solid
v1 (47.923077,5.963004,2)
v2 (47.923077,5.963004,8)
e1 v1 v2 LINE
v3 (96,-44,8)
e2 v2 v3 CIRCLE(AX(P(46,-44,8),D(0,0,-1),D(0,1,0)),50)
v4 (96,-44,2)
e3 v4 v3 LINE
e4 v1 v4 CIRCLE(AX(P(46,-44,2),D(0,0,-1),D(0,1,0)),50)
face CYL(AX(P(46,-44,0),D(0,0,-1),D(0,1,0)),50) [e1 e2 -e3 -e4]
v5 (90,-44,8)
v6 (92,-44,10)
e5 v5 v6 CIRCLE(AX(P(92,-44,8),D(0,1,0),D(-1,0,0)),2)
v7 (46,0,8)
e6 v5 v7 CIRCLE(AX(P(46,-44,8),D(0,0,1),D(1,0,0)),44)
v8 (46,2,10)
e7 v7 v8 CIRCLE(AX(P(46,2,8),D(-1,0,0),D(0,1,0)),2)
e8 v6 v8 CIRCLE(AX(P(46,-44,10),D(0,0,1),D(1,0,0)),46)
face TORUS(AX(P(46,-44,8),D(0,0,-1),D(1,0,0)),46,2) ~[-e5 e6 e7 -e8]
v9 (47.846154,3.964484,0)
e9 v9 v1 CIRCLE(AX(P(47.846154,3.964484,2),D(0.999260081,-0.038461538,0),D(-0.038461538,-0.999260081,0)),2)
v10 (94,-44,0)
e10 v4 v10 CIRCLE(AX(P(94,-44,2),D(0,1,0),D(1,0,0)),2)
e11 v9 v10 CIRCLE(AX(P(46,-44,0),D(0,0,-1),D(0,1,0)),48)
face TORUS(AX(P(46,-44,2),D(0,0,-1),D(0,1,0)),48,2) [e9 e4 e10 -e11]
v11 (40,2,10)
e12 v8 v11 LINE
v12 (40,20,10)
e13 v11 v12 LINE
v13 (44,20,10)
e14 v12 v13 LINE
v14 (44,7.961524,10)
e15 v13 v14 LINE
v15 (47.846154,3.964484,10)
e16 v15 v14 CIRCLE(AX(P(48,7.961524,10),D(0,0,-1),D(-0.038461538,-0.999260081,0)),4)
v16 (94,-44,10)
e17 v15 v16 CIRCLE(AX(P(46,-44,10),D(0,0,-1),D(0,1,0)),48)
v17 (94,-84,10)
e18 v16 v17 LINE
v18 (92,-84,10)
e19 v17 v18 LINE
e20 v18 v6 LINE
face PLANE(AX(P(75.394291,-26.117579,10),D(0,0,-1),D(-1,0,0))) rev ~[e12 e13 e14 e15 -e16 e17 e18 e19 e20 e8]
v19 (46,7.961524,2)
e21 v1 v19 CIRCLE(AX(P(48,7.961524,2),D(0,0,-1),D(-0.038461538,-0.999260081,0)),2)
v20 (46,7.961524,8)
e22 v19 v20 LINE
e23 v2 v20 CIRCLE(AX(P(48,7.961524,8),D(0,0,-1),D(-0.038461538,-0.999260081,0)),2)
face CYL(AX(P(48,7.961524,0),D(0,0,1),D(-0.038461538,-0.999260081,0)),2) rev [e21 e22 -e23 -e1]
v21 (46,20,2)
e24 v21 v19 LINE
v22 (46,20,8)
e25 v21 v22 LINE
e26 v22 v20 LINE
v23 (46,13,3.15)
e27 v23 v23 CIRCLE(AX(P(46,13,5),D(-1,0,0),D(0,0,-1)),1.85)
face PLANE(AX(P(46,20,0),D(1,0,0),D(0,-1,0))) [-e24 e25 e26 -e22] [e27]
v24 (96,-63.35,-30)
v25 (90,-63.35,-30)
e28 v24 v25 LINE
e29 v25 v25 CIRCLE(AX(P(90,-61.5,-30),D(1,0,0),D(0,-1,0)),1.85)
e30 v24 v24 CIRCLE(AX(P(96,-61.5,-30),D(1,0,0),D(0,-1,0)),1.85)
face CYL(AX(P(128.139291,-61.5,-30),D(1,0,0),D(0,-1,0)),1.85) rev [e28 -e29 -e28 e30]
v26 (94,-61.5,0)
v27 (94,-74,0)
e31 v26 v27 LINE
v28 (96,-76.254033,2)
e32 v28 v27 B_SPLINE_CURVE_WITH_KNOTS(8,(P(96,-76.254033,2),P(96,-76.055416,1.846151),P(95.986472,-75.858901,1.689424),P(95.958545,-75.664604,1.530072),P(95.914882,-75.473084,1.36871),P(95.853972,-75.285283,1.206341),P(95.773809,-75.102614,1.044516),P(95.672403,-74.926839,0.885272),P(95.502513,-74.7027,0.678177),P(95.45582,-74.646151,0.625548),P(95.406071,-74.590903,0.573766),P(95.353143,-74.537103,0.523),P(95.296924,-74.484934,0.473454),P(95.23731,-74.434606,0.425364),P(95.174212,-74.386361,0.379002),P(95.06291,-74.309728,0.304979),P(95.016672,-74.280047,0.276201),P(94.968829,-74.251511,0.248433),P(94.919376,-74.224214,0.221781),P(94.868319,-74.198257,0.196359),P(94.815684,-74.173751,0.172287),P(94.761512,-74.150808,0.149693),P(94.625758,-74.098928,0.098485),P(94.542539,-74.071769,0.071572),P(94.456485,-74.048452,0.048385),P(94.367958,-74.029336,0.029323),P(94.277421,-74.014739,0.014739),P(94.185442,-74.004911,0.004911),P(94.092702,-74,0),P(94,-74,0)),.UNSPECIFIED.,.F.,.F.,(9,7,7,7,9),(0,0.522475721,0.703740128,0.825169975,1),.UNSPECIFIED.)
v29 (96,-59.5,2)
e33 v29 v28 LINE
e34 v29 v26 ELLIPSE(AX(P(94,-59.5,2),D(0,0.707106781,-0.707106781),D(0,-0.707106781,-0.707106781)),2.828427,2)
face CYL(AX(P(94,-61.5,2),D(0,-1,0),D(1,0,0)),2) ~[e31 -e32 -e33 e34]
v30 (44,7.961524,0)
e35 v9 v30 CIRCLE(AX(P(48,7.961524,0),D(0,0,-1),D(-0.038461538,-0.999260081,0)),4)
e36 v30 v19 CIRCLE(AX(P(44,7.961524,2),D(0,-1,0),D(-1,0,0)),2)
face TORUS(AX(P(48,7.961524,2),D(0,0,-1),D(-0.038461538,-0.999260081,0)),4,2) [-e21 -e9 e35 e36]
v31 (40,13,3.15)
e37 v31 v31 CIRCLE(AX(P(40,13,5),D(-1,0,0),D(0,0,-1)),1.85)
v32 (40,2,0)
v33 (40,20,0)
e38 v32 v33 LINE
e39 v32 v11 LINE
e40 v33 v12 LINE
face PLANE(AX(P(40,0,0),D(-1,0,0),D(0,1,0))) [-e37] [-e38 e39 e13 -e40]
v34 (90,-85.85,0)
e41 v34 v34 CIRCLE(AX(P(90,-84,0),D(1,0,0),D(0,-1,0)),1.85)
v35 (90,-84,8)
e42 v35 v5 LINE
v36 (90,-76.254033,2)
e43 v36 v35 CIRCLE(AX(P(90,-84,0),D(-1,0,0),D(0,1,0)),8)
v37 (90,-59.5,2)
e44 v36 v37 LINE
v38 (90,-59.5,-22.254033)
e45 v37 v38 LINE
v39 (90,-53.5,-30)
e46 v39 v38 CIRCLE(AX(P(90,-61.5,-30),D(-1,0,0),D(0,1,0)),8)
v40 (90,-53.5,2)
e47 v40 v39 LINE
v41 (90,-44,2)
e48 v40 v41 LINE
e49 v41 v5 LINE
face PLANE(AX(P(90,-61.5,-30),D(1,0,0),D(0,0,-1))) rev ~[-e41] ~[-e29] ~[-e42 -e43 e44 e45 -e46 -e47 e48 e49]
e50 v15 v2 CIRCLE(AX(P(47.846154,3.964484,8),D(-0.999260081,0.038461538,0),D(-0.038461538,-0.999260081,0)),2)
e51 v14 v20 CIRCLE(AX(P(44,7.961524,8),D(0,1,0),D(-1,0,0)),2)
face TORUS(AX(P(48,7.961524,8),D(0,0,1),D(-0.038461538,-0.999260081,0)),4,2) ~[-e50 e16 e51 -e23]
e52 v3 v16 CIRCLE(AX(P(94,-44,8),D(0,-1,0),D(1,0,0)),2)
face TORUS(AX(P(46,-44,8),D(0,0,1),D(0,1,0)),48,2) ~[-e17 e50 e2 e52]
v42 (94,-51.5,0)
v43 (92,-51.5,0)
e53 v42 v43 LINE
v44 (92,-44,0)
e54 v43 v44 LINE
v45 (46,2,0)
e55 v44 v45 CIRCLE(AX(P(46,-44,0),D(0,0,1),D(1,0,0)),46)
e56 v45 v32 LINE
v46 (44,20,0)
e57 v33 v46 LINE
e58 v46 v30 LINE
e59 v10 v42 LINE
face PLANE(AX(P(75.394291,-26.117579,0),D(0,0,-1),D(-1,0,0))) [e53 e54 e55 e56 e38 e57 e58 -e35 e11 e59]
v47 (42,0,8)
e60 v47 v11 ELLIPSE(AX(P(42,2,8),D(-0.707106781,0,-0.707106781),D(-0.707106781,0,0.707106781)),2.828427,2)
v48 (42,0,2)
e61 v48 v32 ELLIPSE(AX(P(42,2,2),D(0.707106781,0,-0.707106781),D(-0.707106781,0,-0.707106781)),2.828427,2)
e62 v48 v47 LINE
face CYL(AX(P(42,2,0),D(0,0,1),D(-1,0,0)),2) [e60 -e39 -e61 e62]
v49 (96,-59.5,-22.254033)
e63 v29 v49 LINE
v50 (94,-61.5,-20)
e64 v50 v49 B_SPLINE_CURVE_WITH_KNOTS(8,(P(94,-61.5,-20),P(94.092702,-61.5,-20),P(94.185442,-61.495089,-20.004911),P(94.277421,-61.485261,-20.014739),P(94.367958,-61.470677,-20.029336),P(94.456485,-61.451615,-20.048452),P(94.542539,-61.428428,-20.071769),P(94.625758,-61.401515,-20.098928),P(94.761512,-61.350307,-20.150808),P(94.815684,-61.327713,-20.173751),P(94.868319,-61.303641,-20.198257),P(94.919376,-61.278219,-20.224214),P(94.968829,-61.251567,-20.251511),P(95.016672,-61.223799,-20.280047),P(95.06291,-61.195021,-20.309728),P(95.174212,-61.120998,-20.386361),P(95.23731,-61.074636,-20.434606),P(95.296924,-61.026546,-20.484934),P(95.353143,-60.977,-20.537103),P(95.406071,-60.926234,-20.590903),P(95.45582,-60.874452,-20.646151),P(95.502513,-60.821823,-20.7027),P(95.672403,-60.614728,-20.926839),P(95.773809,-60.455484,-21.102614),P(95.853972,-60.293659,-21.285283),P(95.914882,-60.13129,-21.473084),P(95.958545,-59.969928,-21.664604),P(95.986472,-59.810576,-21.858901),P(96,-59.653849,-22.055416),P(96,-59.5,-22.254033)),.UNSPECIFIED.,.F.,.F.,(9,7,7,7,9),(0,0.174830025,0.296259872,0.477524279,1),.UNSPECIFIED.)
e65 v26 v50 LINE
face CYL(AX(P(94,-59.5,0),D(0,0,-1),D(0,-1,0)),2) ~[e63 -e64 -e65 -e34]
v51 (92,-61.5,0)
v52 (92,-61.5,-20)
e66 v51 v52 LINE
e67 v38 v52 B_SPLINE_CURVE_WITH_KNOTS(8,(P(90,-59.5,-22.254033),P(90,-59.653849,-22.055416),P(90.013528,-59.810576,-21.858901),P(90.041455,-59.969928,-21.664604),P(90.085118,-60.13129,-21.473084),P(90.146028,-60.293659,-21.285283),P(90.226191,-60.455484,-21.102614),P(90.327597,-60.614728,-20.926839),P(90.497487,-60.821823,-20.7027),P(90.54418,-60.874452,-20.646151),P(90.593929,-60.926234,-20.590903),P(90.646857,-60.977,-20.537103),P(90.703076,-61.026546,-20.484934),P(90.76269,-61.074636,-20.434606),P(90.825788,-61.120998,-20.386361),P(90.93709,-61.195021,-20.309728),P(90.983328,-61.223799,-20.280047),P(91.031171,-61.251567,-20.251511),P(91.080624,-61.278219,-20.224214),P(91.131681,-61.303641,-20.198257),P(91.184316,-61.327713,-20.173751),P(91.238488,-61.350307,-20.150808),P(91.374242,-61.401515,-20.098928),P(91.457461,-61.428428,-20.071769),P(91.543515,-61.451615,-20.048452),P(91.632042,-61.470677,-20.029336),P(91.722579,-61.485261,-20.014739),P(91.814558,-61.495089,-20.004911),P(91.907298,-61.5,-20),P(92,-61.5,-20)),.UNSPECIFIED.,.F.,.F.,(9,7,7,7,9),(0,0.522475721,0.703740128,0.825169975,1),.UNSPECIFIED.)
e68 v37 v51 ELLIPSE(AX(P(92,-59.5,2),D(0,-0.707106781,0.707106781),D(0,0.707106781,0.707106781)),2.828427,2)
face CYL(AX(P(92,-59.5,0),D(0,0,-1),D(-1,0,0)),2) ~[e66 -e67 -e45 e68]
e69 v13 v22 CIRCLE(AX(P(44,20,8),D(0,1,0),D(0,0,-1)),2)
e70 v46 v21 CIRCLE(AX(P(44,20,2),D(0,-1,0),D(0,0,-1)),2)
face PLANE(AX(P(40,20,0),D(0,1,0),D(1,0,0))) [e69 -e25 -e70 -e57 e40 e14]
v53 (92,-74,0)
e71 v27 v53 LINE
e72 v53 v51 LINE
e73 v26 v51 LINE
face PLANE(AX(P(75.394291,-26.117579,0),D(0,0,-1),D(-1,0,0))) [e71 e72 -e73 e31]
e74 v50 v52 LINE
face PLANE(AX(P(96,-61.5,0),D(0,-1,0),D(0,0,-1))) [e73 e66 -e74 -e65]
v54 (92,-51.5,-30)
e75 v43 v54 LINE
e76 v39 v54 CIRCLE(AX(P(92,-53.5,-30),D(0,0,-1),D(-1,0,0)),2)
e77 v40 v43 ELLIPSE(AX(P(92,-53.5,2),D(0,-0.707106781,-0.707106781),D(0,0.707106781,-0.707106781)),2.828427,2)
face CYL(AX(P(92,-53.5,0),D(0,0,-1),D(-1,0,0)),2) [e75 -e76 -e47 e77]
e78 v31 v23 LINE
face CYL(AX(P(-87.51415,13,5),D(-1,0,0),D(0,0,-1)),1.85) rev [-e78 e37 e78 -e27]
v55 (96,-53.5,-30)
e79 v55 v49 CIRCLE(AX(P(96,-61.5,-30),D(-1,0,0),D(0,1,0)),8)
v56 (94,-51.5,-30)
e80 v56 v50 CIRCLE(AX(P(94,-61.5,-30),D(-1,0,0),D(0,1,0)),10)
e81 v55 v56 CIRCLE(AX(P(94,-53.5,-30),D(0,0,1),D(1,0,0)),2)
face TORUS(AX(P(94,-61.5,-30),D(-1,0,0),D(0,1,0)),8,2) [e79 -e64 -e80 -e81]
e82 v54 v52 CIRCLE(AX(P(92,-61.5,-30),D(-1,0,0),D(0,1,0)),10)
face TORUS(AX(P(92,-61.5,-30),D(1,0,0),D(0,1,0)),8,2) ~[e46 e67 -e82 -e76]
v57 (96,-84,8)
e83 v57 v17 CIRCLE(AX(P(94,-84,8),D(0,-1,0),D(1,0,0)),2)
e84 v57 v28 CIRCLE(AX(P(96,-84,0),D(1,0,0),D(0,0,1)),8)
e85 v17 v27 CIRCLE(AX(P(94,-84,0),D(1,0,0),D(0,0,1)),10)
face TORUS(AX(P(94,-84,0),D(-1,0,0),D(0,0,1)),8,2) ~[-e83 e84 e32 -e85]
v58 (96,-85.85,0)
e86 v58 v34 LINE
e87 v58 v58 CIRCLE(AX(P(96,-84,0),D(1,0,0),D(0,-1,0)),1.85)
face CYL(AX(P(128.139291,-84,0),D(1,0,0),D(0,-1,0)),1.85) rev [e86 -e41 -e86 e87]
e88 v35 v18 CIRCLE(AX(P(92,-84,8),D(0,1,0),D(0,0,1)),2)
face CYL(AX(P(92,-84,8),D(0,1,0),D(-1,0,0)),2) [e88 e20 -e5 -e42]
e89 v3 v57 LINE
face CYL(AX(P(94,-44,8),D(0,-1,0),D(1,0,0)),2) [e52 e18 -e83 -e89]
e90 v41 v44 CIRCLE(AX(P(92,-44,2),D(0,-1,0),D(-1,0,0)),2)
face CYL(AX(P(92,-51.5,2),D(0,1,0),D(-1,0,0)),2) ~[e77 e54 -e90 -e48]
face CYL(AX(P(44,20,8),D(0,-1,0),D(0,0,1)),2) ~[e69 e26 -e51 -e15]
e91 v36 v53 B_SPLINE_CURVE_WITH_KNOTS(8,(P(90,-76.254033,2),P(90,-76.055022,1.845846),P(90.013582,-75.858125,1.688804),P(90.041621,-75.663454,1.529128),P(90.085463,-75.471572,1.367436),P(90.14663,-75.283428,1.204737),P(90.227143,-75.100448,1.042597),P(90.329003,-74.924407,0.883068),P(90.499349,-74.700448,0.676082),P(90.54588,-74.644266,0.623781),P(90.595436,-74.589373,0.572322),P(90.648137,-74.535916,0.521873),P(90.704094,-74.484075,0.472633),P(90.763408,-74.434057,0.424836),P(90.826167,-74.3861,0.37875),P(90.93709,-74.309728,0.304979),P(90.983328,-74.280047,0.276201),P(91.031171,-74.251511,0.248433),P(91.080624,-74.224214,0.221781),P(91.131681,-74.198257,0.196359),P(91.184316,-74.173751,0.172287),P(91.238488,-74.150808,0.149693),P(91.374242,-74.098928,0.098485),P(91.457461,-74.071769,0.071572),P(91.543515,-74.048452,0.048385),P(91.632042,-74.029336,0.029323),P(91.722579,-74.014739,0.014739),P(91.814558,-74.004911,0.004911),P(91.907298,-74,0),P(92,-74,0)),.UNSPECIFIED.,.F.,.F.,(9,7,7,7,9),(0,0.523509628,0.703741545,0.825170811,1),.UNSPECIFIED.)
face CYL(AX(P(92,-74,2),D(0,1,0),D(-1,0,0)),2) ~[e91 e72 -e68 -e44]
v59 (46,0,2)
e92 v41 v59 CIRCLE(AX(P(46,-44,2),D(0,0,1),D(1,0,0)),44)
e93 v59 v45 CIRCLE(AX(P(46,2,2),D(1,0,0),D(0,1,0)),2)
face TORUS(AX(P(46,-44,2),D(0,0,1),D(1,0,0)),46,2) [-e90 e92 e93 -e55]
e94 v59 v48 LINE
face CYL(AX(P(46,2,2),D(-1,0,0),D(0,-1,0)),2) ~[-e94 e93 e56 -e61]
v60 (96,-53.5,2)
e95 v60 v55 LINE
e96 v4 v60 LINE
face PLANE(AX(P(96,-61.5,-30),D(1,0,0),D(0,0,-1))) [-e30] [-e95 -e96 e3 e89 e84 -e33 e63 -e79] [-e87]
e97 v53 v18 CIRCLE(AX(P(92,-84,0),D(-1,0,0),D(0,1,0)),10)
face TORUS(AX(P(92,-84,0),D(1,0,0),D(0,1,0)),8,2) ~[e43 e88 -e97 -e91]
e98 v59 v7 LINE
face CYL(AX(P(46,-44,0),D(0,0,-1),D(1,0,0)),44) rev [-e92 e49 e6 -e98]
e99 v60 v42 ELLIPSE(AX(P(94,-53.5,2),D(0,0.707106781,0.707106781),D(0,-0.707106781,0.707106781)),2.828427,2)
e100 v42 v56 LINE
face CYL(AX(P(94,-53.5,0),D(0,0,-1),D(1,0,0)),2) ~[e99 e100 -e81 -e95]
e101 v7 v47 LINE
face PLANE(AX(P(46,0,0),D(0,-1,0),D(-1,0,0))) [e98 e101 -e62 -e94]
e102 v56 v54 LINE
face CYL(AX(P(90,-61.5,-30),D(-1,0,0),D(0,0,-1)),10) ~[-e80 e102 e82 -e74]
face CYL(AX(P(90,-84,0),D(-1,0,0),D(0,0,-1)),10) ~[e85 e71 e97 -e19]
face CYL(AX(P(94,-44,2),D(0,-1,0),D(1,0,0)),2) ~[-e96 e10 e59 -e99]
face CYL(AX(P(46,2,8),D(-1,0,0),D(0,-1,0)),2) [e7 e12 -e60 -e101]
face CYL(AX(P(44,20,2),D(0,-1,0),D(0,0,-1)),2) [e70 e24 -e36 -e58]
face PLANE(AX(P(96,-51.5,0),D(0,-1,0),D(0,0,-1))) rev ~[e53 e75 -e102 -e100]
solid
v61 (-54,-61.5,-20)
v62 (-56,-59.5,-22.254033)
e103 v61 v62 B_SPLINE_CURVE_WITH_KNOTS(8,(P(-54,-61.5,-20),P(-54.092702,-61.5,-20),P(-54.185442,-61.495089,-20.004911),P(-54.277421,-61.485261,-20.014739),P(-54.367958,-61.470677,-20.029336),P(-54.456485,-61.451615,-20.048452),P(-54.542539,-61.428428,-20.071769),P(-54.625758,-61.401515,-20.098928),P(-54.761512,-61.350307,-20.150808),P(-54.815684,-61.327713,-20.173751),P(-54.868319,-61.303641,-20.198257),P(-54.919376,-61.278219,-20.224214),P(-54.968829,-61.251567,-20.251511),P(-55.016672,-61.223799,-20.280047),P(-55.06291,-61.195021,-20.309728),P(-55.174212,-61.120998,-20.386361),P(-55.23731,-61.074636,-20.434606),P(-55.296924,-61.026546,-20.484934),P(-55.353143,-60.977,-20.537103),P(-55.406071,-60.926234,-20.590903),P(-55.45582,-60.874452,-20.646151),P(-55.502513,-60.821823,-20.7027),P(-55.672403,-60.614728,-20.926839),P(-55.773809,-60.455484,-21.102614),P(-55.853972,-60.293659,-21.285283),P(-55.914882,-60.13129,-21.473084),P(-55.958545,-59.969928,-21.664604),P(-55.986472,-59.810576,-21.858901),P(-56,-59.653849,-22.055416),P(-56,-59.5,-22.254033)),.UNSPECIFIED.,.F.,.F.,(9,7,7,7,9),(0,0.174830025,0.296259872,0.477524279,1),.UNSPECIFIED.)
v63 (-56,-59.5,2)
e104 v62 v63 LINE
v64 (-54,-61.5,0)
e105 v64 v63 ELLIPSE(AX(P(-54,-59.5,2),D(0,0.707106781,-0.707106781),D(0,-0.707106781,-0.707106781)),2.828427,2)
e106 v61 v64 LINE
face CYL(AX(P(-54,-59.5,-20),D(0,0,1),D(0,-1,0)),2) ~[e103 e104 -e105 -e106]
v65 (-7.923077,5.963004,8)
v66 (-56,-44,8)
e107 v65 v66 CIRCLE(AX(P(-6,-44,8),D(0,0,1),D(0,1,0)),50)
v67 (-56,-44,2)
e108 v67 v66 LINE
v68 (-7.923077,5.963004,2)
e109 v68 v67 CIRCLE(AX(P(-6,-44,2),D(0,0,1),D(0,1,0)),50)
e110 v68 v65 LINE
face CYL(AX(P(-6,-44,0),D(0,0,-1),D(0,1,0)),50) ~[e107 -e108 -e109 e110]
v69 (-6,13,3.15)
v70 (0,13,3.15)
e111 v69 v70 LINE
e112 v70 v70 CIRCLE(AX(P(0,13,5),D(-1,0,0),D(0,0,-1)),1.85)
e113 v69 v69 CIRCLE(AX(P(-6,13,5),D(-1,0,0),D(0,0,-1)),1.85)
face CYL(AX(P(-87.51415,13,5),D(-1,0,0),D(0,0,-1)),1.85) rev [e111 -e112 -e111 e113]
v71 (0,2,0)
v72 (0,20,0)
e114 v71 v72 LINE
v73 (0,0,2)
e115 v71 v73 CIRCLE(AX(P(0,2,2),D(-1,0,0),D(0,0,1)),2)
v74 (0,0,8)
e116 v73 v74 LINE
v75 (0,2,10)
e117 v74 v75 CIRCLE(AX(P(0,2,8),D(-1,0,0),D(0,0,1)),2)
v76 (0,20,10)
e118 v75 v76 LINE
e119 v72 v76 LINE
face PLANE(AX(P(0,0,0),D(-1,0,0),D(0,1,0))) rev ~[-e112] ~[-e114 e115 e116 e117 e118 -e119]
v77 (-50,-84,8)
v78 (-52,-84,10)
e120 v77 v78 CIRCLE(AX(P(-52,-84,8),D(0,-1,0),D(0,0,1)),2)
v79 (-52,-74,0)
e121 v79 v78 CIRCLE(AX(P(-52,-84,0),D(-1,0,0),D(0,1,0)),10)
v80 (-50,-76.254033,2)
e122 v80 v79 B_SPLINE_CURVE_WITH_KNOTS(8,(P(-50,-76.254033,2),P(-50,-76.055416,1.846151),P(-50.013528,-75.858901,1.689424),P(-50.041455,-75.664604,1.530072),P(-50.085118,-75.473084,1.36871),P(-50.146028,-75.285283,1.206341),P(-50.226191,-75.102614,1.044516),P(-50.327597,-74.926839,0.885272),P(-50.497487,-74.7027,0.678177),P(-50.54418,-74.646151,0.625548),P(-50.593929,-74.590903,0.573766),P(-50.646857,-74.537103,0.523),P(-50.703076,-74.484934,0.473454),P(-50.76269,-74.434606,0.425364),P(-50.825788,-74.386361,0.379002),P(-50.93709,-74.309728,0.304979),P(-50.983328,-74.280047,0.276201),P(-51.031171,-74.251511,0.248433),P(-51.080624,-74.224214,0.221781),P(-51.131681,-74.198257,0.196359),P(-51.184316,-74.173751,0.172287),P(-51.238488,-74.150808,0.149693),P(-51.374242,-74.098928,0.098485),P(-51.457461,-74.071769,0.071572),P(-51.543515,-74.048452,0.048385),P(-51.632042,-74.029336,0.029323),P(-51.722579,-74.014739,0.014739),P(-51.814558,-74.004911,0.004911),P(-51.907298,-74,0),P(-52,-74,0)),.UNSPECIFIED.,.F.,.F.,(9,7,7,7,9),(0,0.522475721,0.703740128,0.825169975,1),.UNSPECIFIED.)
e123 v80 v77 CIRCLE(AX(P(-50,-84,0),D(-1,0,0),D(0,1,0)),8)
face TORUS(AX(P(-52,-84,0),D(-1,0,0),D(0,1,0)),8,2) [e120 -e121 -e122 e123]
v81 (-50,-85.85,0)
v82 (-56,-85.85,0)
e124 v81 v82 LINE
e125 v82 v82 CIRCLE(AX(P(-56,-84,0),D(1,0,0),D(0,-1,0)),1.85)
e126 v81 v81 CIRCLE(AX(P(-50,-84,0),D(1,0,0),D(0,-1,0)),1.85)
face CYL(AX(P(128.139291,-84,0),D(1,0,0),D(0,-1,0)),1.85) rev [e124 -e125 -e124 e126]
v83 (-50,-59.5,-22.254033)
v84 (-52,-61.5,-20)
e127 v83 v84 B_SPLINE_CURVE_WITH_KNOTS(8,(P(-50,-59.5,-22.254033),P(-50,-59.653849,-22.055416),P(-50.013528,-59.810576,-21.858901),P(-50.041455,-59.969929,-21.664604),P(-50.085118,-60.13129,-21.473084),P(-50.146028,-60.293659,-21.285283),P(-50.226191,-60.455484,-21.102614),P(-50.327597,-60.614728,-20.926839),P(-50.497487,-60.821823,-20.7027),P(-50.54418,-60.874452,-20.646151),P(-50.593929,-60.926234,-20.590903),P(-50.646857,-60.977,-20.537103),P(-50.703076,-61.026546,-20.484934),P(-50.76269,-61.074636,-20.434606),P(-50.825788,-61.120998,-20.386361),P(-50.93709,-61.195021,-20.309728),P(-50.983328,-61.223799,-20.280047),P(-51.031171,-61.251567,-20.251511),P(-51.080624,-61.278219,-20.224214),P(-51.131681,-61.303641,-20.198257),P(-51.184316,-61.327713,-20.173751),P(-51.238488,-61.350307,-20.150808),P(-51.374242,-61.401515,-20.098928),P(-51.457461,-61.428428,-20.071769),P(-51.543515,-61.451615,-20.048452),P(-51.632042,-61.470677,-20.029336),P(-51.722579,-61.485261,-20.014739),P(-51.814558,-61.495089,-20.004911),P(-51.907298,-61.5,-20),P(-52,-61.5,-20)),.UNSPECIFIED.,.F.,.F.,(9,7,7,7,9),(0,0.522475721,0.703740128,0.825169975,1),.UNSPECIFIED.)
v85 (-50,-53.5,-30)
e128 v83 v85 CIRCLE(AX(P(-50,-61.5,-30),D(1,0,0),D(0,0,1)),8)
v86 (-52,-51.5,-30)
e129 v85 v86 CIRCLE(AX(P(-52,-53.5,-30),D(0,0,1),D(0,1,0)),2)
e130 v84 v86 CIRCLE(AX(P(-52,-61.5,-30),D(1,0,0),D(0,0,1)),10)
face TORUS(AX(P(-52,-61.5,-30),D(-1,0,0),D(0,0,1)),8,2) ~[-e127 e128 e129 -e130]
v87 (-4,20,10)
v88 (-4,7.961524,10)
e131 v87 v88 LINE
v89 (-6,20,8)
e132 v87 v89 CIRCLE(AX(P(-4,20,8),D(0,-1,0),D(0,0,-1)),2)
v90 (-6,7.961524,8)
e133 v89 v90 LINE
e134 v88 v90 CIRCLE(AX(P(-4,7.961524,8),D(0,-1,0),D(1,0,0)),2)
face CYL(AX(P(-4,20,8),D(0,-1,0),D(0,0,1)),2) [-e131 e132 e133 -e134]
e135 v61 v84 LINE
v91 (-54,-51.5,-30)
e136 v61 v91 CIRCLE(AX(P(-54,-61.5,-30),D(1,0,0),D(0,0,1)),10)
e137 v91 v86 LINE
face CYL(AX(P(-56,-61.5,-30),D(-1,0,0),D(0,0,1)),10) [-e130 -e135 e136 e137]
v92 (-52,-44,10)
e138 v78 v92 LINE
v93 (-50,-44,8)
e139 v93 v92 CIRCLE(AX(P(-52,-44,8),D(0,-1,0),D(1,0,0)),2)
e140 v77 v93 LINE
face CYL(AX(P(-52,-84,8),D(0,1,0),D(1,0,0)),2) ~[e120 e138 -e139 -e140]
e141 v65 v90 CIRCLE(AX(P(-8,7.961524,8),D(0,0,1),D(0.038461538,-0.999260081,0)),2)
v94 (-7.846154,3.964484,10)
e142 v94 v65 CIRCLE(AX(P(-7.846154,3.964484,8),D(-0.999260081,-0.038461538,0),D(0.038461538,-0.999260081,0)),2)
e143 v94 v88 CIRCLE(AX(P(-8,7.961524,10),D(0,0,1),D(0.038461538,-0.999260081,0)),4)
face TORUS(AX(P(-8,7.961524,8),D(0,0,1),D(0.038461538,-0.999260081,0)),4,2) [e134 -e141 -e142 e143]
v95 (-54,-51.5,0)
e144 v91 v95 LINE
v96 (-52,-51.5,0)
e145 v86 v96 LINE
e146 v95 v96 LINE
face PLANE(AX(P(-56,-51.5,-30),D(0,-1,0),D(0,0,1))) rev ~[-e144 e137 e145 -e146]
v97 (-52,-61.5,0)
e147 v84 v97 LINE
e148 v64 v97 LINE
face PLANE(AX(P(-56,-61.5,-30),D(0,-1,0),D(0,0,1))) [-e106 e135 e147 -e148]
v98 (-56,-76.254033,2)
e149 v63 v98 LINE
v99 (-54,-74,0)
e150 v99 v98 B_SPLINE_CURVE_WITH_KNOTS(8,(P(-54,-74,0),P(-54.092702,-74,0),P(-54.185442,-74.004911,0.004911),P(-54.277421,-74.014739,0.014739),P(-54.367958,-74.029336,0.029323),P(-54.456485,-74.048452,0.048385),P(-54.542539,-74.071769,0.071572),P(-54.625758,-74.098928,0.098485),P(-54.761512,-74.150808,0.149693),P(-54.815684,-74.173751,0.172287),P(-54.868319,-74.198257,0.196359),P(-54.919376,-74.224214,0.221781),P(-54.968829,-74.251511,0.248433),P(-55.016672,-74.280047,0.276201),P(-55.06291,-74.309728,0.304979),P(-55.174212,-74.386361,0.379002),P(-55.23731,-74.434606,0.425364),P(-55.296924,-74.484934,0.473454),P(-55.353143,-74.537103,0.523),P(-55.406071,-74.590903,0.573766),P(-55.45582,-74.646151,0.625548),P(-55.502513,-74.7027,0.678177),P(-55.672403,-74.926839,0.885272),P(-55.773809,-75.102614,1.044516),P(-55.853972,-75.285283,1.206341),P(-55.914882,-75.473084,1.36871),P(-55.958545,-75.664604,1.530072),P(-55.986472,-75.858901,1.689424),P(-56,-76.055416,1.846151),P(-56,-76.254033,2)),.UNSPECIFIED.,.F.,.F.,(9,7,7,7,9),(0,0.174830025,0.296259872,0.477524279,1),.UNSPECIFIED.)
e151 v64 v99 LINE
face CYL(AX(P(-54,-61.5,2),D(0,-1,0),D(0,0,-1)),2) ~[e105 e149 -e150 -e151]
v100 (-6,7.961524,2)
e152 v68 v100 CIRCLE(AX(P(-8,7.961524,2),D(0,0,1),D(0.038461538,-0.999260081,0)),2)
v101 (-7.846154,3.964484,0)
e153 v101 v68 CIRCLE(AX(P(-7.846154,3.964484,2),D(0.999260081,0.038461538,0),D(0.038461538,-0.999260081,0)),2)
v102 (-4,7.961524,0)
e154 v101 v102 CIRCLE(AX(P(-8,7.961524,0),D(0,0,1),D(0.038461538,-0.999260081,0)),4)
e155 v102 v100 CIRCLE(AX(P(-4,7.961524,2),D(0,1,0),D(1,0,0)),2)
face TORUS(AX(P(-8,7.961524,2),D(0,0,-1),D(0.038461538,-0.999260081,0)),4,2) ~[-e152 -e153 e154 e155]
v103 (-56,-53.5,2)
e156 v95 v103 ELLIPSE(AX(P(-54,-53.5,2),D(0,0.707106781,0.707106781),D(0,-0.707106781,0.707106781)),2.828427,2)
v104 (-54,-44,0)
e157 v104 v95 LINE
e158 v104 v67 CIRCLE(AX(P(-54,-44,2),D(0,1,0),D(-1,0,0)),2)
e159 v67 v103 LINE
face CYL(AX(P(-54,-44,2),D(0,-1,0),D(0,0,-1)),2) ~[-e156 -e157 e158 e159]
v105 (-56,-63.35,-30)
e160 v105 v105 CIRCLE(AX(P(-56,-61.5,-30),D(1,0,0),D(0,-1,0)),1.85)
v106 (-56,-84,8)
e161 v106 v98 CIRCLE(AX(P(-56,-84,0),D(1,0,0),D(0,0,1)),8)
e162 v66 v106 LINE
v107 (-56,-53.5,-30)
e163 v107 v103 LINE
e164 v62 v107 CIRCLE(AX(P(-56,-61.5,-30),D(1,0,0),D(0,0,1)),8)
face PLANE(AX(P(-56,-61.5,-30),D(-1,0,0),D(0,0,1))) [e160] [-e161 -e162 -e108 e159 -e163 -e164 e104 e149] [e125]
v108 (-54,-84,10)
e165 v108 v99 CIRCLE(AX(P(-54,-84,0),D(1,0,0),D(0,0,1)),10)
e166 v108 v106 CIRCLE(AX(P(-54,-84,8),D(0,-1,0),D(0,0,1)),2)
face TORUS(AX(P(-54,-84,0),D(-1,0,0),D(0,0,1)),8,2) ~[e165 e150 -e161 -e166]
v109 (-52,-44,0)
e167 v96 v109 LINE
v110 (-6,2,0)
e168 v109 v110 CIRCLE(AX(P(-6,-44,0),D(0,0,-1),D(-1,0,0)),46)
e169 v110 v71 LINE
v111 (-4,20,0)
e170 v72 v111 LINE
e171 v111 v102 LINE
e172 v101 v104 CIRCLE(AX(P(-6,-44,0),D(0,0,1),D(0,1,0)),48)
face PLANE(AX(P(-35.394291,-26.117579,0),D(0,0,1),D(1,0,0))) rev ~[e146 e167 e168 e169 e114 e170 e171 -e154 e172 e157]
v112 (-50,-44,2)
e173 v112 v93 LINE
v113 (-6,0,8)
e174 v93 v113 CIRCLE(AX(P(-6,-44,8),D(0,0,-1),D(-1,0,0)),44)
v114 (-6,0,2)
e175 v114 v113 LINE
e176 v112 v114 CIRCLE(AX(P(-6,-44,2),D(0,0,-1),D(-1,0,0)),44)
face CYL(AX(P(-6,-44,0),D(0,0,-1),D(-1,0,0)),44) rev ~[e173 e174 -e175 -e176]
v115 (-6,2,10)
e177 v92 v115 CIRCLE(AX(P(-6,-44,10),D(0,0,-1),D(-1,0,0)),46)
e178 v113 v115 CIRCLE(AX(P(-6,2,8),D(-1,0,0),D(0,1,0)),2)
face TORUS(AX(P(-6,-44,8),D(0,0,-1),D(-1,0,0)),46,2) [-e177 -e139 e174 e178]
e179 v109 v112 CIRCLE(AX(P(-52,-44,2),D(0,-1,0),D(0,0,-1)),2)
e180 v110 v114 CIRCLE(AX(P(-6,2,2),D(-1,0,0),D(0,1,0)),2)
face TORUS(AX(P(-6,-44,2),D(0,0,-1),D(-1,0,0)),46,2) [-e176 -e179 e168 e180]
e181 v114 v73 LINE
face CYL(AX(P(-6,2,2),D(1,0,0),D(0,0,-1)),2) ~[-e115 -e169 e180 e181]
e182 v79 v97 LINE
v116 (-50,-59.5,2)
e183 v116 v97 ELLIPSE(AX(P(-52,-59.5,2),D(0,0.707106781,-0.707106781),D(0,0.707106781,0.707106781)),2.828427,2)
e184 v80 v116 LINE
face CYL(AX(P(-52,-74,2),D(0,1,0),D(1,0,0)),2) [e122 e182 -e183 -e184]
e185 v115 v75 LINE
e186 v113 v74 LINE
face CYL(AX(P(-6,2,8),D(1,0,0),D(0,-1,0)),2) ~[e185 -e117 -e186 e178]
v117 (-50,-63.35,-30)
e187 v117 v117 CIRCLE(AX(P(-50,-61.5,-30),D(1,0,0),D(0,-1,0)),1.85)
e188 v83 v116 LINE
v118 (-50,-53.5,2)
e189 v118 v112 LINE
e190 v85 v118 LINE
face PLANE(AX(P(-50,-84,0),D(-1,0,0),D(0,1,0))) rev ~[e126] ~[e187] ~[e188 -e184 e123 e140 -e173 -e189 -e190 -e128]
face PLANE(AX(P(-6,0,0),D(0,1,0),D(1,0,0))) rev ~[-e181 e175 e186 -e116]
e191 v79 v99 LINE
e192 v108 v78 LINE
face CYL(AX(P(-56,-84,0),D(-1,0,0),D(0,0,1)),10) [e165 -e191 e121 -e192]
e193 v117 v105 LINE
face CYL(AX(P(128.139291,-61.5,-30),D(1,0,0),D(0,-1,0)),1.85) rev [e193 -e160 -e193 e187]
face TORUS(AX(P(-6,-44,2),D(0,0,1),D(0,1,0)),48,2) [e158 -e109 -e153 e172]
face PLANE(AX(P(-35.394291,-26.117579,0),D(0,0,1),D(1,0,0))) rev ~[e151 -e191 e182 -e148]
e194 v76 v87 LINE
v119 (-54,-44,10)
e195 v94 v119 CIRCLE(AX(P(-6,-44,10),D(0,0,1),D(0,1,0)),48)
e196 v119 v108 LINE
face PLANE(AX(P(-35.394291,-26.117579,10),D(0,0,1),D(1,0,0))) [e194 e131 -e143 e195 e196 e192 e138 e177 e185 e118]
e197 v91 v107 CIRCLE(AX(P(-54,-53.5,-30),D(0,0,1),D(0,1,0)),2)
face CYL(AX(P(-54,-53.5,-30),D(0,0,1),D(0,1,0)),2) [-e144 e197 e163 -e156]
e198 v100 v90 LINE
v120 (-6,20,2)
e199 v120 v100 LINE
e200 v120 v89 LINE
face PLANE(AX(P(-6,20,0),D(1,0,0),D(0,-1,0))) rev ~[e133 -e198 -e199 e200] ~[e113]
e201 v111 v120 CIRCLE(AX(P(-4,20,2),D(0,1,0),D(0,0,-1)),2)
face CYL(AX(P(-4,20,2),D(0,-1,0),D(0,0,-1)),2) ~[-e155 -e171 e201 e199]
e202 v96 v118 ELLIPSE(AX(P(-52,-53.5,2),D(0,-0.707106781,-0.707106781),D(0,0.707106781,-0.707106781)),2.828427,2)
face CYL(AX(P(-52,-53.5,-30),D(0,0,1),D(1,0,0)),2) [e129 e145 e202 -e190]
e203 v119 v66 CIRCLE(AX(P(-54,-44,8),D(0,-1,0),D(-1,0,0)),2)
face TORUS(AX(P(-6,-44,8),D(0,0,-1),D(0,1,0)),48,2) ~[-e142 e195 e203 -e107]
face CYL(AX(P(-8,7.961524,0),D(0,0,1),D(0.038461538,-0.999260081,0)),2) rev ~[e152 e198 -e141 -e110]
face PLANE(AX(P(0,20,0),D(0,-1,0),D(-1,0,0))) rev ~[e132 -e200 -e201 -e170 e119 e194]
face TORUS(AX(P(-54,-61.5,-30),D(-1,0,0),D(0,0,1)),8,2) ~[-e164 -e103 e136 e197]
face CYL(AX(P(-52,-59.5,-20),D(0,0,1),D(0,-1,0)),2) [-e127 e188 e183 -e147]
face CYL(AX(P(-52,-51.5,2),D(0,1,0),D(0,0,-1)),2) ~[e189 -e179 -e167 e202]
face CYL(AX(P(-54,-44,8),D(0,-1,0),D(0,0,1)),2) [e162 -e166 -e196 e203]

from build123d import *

# Parameters (mm, degrees)
BOSS_EXTRUDE2_DEPTH     = 10
BOSS_EXTRUDE2_2_DEPTH   = 10
CUT_EXTRUDE1_DEPTH      = 133.514150188
CUT_EXTRUDE1_DEPTH_BACK = 133.514150188
SKETCH2_R               = 1.85
SKETCH5_R               = 10
BOSS_EXTRUDE5_DEPTH     = 6
SKETCH6_W               = 30
SKETCH6_H               = 10
BOSS_EXTRUDE6_DEPTH     = 6
SKETCH7_R               = 10
BOSS_EXTRUDE7_DEPTH     = 6
BOSS_EXTRUDE10_START    = -6
SKETCH8_R               = 10
BOSS_EXTRUDE10_DEPTH    = 6
SKETCH13_W              = 30
SKETCH13_H              = 10
BOSS_EXTRUDE13_DEPTH    = 6
BOSS_EXTRUDE14_START    = -6
SKETCH14_R              = 10
BOSS_EXTRUDE14_DEPTH    = 6
CUT_EXTRUDE4_DEPTH      = 184.139291251
CUT_EXTRUDE4_DEPTH_BACK = 184.139291251
SKETCH15_R              = 1.85
FILLET2_R               = 2
FILLET3_R               = 2
FILLET4_R               = 2
FILLET5_R               = 2


with BuildPart() as part:
    # Sketch1 → Boss-Extrude2 (new body)
    with BuildSketch(Plane.XY):
        with BuildLine():
            Line((0, 0), (0, 20))
            Line((0, 20), (-6, 20))
            Line((-6, 20), (-6, 6))
            ThreePointArc((-6, 6), (-41.355339059, -8.644660941), (-56, -44))
            Line((-56, -44), (-56, -84))
            Line((-56, -84), (-50, -84))
            Line((-50, -84), (-50, -44))
            ThreePointArc((-50, -44), (-37.112698372, -12.887301628), (-6, 0))
            Line((-6, 0), (0, 0))
        make_face()
    extrude(amount=BOSS_EXTRUDE2_DEPTH)


with BuildPart() as body_2:
    # Sketch1 → Boss-Extrude2 2 (new body)
    with BuildSketch(Plane.XY):
        with BuildLine():
            Line((96, -84), (90, -84))
            Line((90, -84), (90, -44))
            ThreePointArc((90, -44), (77.112698372, -12.887301628), (46, 0))
            Line((46, 0), (40, 0))
            Line((40, 0), (40, 20))
            Line((40, 20), (46, 20))
            Line((46, 20), (46, 6))
            ThreePointArc((46, 6), (81.355339059, -8.644660941), (96, -44))
            Line((96, -44), (96, -84))
        make_face()
    extrude(amount=BOSS_EXTRUDE2_2_DEPTH)


with BuildPart() as cut_extrude1_tool:
    # Sketch2 → Cut-Extrude1 (new, two sides: drawn at the far end of the back side and taken through both)
    with BuildSketch(Plane(origin=(46, 0, 0), x_dir=(0, 0, -1), z_dir=(1, 0, 0)).offset(-CUT_EXTRUDE1_DEPTH_BACK)):
        with Locations((-5, 13)):
            Circle(SKETCH2_R)
    extrude(amount=CUT_EXTRUDE1_DEPTH + CUT_EXTRUDE1_DEPTH_BACK)


with BuildPart() as part_1:
    add(part.part)

    # Cut-Extrude1: cut by cut_extrude1_tool
    add(cut_extrude1_tool.part, mode=Mode.SUBTRACT)

    # Sketch5 → Boss-Extrude5 (add)
    with BuildSketch(Plane.ZY.offset(56)):
        with Locations((0, -84)):
            Circle(SKETCH5_R)
    extrude(amount=-BOSS_EXTRUDE5_DEPTH)

    # Sketch6 → Boss-Extrude6 (add)
    with BuildSketch(Plane.ZY.offset(56)):
        with Locations((-15, -56.5)):
            Rectangle(SKETCH6_W, SKETCH6_H)
    extrude(amount=-BOSS_EXTRUDE6_DEPTH)

    # Sketch7 → Boss-Extrude7 (add)
    with BuildSketch(Plane.ZY.offset(56)):
        with Locations((-30, -61.5)):
            Circle(SKETCH7_R)
    extrude(amount=-BOSS_EXTRUDE7_DEPTH)


with BuildPart() as body_2_1:
    add(body_2.part)

    # Cut-Extrude1: cut by cut_extrude1_tool
    add(cut_extrude1_tool.part, mode=Mode.SUBTRACT)

    # Sketch8 → Boss-Extrude10 (add)
    with BuildSketch(Plane(origin=(96, 0, 0), x_dir=(0, 0, -1), z_dir=(1, 0, 0)).offset(BOSS_EXTRUDE10_START)):
        with Locations((0, -84)):
            Circle(SKETCH8_R)
    extrude(amount=BOSS_EXTRUDE10_DEPTH)

    # Sketch13 → Boss-Extrude13 (add)
    with BuildSketch(Plane(origin=(96, 0, 0), x_dir=(0, 0, -1), z_dir=(1, 0, 0))):
        with Locations((15, -56.5)):
            Rectangle(SKETCH13_W, SKETCH13_H)
    extrude(amount=-BOSS_EXTRUDE13_DEPTH)

    # Sketch14 → Boss-Extrude14 (add)
    with BuildSketch(Plane(origin=(96, 0, 0), x_dir=(0, 0, -1), z_dir=(1, 0, 0)).offset(BOSS_EXTRUDE14_START)):
        with Locations((30, -61.5)):
            Circle(SKETCH14_R)
    extrude(amount=BOSS_EXTRUDE14_DEPTH)


with BuildPart() as cut_extrude4_tool:
    # Sketch15 → Cut-Extrude4 (new, two sides: drawn at the far end of the back side and taken through both)
    with BuildSketch(Plane.ZY.offset(56).offset(-CUT_EXTRUDE4_DEPTH_BACK)):
        with Locations(Location((-30, -61.5, 0), (0, 0, 270))):
            Circle(SKETCH15_R)
        with Locations(Location((0, -84, 0), (0, 0, 270))):
            Circle(SKETCH15_R)
    extrude(amount=CUT_EXTRUDE4_DEPTH + CUT_EXTRUDE4_DEPTH_BACK)


with BuildPart() as part_2:
    add(part_1.part)

    # Cut-Extrude4: cut by cut_extrude4_tool
    add(cut_extrude4_tool.part, mode=Mode.SUBTRACT)

    # Fillet4
    fillet4_edges = [part_2.edges().sort_by_distance(p)[0] for p in [
        (-41.355339059, -8.644660941, 0),
        (-6, 13, 0),
        (-6, 13, 10),
        (-6, 6, 5),
        (-41.355339059, -8.644660941, 10),
        (-56, -64, 10),
        (-56, -91.071067812, -7.071067812),
        (-56, -67.75, 0),
        (-56, -51.5, -15),
        (-56, -61.5, -10),
        (-56, -68.571067812, -37.071067812),
        (-56, -47.75, 0),
    ]]
    fillet(fillet4_edges, radius=FILLET4_R)

    # Fillet5
    fillet5_edges = [part_2.edges().sort_by_distance(p)[0] for p in [
        (-3, 0, 0),
        (-50, -64, 10),
        (-37.112698372, -12.887301628, 10),
        (-50, -67.75, 0),
        (-50, -91.071067812, -7.071067812),
        (-3, 0, 10),
        (-50, -47.75, 0),
        (-50, -51.5, -15),
        (-50, -61.5, -10),
        (-50, -68.571067812, -37.071067812),
        (-37.112698372, -12.887301628, 0),
    ]]
    fillet(fillet5_edges, radius=FILLET5_R)


with BuildPart() as body_2_2:
    add(body_2_1.part)

    # Cut-Extrude4: cut by cut_extrude4_tool
    add(cut_extrude4_tool.part, mode=Mode.SUBTRACT)

    # Fillet2
    fillet2_edges = [body_2_2.edges().sort_by_distance(p)[0] for p in [
        (90, -64, 10),
        (90, -47.75, 0),
        (77.112698372, -12.887301628, 0),
        (43, 0, 0),
        (40, 0, 5),
        (90, -91.071067812, -7.071067812),
        (43, 0, 10),
        (90, -67.75, 0),
        (90, -51.5, -15),
        (90, -61.5, -10),
        (90, -68.571067812, -37.071067812),
        (77.112698372, -12.887301628, 10),
    ]]
    fillet(fillet2_edges, radius=FILLET2_R)

    # Fillet3
    fillet3_edges = [body_2_2.edges().sort_by_distance(p)[0] for p in [
        (46, 6, 5),
        (96, -64, 10),
        (81.355339059, -8.644660941, 10),
        (46, 13, 10),
        (96, -67.75, 0),
        (96, -91.071067812, -7.071067812),
        (96, -47.75, 0),
        (96, -61.5, -10),
        (96, -51.5, -15),
        (96, -68.571067812, -37.071067812),
        (46, 13, 0),
        (81.355339059, -8.644660941, 0),
    ]]
    fillet(fillet3_edges, radius=FILLET3_R)


solid = Compound([part_2.part, body_2_2.part])
